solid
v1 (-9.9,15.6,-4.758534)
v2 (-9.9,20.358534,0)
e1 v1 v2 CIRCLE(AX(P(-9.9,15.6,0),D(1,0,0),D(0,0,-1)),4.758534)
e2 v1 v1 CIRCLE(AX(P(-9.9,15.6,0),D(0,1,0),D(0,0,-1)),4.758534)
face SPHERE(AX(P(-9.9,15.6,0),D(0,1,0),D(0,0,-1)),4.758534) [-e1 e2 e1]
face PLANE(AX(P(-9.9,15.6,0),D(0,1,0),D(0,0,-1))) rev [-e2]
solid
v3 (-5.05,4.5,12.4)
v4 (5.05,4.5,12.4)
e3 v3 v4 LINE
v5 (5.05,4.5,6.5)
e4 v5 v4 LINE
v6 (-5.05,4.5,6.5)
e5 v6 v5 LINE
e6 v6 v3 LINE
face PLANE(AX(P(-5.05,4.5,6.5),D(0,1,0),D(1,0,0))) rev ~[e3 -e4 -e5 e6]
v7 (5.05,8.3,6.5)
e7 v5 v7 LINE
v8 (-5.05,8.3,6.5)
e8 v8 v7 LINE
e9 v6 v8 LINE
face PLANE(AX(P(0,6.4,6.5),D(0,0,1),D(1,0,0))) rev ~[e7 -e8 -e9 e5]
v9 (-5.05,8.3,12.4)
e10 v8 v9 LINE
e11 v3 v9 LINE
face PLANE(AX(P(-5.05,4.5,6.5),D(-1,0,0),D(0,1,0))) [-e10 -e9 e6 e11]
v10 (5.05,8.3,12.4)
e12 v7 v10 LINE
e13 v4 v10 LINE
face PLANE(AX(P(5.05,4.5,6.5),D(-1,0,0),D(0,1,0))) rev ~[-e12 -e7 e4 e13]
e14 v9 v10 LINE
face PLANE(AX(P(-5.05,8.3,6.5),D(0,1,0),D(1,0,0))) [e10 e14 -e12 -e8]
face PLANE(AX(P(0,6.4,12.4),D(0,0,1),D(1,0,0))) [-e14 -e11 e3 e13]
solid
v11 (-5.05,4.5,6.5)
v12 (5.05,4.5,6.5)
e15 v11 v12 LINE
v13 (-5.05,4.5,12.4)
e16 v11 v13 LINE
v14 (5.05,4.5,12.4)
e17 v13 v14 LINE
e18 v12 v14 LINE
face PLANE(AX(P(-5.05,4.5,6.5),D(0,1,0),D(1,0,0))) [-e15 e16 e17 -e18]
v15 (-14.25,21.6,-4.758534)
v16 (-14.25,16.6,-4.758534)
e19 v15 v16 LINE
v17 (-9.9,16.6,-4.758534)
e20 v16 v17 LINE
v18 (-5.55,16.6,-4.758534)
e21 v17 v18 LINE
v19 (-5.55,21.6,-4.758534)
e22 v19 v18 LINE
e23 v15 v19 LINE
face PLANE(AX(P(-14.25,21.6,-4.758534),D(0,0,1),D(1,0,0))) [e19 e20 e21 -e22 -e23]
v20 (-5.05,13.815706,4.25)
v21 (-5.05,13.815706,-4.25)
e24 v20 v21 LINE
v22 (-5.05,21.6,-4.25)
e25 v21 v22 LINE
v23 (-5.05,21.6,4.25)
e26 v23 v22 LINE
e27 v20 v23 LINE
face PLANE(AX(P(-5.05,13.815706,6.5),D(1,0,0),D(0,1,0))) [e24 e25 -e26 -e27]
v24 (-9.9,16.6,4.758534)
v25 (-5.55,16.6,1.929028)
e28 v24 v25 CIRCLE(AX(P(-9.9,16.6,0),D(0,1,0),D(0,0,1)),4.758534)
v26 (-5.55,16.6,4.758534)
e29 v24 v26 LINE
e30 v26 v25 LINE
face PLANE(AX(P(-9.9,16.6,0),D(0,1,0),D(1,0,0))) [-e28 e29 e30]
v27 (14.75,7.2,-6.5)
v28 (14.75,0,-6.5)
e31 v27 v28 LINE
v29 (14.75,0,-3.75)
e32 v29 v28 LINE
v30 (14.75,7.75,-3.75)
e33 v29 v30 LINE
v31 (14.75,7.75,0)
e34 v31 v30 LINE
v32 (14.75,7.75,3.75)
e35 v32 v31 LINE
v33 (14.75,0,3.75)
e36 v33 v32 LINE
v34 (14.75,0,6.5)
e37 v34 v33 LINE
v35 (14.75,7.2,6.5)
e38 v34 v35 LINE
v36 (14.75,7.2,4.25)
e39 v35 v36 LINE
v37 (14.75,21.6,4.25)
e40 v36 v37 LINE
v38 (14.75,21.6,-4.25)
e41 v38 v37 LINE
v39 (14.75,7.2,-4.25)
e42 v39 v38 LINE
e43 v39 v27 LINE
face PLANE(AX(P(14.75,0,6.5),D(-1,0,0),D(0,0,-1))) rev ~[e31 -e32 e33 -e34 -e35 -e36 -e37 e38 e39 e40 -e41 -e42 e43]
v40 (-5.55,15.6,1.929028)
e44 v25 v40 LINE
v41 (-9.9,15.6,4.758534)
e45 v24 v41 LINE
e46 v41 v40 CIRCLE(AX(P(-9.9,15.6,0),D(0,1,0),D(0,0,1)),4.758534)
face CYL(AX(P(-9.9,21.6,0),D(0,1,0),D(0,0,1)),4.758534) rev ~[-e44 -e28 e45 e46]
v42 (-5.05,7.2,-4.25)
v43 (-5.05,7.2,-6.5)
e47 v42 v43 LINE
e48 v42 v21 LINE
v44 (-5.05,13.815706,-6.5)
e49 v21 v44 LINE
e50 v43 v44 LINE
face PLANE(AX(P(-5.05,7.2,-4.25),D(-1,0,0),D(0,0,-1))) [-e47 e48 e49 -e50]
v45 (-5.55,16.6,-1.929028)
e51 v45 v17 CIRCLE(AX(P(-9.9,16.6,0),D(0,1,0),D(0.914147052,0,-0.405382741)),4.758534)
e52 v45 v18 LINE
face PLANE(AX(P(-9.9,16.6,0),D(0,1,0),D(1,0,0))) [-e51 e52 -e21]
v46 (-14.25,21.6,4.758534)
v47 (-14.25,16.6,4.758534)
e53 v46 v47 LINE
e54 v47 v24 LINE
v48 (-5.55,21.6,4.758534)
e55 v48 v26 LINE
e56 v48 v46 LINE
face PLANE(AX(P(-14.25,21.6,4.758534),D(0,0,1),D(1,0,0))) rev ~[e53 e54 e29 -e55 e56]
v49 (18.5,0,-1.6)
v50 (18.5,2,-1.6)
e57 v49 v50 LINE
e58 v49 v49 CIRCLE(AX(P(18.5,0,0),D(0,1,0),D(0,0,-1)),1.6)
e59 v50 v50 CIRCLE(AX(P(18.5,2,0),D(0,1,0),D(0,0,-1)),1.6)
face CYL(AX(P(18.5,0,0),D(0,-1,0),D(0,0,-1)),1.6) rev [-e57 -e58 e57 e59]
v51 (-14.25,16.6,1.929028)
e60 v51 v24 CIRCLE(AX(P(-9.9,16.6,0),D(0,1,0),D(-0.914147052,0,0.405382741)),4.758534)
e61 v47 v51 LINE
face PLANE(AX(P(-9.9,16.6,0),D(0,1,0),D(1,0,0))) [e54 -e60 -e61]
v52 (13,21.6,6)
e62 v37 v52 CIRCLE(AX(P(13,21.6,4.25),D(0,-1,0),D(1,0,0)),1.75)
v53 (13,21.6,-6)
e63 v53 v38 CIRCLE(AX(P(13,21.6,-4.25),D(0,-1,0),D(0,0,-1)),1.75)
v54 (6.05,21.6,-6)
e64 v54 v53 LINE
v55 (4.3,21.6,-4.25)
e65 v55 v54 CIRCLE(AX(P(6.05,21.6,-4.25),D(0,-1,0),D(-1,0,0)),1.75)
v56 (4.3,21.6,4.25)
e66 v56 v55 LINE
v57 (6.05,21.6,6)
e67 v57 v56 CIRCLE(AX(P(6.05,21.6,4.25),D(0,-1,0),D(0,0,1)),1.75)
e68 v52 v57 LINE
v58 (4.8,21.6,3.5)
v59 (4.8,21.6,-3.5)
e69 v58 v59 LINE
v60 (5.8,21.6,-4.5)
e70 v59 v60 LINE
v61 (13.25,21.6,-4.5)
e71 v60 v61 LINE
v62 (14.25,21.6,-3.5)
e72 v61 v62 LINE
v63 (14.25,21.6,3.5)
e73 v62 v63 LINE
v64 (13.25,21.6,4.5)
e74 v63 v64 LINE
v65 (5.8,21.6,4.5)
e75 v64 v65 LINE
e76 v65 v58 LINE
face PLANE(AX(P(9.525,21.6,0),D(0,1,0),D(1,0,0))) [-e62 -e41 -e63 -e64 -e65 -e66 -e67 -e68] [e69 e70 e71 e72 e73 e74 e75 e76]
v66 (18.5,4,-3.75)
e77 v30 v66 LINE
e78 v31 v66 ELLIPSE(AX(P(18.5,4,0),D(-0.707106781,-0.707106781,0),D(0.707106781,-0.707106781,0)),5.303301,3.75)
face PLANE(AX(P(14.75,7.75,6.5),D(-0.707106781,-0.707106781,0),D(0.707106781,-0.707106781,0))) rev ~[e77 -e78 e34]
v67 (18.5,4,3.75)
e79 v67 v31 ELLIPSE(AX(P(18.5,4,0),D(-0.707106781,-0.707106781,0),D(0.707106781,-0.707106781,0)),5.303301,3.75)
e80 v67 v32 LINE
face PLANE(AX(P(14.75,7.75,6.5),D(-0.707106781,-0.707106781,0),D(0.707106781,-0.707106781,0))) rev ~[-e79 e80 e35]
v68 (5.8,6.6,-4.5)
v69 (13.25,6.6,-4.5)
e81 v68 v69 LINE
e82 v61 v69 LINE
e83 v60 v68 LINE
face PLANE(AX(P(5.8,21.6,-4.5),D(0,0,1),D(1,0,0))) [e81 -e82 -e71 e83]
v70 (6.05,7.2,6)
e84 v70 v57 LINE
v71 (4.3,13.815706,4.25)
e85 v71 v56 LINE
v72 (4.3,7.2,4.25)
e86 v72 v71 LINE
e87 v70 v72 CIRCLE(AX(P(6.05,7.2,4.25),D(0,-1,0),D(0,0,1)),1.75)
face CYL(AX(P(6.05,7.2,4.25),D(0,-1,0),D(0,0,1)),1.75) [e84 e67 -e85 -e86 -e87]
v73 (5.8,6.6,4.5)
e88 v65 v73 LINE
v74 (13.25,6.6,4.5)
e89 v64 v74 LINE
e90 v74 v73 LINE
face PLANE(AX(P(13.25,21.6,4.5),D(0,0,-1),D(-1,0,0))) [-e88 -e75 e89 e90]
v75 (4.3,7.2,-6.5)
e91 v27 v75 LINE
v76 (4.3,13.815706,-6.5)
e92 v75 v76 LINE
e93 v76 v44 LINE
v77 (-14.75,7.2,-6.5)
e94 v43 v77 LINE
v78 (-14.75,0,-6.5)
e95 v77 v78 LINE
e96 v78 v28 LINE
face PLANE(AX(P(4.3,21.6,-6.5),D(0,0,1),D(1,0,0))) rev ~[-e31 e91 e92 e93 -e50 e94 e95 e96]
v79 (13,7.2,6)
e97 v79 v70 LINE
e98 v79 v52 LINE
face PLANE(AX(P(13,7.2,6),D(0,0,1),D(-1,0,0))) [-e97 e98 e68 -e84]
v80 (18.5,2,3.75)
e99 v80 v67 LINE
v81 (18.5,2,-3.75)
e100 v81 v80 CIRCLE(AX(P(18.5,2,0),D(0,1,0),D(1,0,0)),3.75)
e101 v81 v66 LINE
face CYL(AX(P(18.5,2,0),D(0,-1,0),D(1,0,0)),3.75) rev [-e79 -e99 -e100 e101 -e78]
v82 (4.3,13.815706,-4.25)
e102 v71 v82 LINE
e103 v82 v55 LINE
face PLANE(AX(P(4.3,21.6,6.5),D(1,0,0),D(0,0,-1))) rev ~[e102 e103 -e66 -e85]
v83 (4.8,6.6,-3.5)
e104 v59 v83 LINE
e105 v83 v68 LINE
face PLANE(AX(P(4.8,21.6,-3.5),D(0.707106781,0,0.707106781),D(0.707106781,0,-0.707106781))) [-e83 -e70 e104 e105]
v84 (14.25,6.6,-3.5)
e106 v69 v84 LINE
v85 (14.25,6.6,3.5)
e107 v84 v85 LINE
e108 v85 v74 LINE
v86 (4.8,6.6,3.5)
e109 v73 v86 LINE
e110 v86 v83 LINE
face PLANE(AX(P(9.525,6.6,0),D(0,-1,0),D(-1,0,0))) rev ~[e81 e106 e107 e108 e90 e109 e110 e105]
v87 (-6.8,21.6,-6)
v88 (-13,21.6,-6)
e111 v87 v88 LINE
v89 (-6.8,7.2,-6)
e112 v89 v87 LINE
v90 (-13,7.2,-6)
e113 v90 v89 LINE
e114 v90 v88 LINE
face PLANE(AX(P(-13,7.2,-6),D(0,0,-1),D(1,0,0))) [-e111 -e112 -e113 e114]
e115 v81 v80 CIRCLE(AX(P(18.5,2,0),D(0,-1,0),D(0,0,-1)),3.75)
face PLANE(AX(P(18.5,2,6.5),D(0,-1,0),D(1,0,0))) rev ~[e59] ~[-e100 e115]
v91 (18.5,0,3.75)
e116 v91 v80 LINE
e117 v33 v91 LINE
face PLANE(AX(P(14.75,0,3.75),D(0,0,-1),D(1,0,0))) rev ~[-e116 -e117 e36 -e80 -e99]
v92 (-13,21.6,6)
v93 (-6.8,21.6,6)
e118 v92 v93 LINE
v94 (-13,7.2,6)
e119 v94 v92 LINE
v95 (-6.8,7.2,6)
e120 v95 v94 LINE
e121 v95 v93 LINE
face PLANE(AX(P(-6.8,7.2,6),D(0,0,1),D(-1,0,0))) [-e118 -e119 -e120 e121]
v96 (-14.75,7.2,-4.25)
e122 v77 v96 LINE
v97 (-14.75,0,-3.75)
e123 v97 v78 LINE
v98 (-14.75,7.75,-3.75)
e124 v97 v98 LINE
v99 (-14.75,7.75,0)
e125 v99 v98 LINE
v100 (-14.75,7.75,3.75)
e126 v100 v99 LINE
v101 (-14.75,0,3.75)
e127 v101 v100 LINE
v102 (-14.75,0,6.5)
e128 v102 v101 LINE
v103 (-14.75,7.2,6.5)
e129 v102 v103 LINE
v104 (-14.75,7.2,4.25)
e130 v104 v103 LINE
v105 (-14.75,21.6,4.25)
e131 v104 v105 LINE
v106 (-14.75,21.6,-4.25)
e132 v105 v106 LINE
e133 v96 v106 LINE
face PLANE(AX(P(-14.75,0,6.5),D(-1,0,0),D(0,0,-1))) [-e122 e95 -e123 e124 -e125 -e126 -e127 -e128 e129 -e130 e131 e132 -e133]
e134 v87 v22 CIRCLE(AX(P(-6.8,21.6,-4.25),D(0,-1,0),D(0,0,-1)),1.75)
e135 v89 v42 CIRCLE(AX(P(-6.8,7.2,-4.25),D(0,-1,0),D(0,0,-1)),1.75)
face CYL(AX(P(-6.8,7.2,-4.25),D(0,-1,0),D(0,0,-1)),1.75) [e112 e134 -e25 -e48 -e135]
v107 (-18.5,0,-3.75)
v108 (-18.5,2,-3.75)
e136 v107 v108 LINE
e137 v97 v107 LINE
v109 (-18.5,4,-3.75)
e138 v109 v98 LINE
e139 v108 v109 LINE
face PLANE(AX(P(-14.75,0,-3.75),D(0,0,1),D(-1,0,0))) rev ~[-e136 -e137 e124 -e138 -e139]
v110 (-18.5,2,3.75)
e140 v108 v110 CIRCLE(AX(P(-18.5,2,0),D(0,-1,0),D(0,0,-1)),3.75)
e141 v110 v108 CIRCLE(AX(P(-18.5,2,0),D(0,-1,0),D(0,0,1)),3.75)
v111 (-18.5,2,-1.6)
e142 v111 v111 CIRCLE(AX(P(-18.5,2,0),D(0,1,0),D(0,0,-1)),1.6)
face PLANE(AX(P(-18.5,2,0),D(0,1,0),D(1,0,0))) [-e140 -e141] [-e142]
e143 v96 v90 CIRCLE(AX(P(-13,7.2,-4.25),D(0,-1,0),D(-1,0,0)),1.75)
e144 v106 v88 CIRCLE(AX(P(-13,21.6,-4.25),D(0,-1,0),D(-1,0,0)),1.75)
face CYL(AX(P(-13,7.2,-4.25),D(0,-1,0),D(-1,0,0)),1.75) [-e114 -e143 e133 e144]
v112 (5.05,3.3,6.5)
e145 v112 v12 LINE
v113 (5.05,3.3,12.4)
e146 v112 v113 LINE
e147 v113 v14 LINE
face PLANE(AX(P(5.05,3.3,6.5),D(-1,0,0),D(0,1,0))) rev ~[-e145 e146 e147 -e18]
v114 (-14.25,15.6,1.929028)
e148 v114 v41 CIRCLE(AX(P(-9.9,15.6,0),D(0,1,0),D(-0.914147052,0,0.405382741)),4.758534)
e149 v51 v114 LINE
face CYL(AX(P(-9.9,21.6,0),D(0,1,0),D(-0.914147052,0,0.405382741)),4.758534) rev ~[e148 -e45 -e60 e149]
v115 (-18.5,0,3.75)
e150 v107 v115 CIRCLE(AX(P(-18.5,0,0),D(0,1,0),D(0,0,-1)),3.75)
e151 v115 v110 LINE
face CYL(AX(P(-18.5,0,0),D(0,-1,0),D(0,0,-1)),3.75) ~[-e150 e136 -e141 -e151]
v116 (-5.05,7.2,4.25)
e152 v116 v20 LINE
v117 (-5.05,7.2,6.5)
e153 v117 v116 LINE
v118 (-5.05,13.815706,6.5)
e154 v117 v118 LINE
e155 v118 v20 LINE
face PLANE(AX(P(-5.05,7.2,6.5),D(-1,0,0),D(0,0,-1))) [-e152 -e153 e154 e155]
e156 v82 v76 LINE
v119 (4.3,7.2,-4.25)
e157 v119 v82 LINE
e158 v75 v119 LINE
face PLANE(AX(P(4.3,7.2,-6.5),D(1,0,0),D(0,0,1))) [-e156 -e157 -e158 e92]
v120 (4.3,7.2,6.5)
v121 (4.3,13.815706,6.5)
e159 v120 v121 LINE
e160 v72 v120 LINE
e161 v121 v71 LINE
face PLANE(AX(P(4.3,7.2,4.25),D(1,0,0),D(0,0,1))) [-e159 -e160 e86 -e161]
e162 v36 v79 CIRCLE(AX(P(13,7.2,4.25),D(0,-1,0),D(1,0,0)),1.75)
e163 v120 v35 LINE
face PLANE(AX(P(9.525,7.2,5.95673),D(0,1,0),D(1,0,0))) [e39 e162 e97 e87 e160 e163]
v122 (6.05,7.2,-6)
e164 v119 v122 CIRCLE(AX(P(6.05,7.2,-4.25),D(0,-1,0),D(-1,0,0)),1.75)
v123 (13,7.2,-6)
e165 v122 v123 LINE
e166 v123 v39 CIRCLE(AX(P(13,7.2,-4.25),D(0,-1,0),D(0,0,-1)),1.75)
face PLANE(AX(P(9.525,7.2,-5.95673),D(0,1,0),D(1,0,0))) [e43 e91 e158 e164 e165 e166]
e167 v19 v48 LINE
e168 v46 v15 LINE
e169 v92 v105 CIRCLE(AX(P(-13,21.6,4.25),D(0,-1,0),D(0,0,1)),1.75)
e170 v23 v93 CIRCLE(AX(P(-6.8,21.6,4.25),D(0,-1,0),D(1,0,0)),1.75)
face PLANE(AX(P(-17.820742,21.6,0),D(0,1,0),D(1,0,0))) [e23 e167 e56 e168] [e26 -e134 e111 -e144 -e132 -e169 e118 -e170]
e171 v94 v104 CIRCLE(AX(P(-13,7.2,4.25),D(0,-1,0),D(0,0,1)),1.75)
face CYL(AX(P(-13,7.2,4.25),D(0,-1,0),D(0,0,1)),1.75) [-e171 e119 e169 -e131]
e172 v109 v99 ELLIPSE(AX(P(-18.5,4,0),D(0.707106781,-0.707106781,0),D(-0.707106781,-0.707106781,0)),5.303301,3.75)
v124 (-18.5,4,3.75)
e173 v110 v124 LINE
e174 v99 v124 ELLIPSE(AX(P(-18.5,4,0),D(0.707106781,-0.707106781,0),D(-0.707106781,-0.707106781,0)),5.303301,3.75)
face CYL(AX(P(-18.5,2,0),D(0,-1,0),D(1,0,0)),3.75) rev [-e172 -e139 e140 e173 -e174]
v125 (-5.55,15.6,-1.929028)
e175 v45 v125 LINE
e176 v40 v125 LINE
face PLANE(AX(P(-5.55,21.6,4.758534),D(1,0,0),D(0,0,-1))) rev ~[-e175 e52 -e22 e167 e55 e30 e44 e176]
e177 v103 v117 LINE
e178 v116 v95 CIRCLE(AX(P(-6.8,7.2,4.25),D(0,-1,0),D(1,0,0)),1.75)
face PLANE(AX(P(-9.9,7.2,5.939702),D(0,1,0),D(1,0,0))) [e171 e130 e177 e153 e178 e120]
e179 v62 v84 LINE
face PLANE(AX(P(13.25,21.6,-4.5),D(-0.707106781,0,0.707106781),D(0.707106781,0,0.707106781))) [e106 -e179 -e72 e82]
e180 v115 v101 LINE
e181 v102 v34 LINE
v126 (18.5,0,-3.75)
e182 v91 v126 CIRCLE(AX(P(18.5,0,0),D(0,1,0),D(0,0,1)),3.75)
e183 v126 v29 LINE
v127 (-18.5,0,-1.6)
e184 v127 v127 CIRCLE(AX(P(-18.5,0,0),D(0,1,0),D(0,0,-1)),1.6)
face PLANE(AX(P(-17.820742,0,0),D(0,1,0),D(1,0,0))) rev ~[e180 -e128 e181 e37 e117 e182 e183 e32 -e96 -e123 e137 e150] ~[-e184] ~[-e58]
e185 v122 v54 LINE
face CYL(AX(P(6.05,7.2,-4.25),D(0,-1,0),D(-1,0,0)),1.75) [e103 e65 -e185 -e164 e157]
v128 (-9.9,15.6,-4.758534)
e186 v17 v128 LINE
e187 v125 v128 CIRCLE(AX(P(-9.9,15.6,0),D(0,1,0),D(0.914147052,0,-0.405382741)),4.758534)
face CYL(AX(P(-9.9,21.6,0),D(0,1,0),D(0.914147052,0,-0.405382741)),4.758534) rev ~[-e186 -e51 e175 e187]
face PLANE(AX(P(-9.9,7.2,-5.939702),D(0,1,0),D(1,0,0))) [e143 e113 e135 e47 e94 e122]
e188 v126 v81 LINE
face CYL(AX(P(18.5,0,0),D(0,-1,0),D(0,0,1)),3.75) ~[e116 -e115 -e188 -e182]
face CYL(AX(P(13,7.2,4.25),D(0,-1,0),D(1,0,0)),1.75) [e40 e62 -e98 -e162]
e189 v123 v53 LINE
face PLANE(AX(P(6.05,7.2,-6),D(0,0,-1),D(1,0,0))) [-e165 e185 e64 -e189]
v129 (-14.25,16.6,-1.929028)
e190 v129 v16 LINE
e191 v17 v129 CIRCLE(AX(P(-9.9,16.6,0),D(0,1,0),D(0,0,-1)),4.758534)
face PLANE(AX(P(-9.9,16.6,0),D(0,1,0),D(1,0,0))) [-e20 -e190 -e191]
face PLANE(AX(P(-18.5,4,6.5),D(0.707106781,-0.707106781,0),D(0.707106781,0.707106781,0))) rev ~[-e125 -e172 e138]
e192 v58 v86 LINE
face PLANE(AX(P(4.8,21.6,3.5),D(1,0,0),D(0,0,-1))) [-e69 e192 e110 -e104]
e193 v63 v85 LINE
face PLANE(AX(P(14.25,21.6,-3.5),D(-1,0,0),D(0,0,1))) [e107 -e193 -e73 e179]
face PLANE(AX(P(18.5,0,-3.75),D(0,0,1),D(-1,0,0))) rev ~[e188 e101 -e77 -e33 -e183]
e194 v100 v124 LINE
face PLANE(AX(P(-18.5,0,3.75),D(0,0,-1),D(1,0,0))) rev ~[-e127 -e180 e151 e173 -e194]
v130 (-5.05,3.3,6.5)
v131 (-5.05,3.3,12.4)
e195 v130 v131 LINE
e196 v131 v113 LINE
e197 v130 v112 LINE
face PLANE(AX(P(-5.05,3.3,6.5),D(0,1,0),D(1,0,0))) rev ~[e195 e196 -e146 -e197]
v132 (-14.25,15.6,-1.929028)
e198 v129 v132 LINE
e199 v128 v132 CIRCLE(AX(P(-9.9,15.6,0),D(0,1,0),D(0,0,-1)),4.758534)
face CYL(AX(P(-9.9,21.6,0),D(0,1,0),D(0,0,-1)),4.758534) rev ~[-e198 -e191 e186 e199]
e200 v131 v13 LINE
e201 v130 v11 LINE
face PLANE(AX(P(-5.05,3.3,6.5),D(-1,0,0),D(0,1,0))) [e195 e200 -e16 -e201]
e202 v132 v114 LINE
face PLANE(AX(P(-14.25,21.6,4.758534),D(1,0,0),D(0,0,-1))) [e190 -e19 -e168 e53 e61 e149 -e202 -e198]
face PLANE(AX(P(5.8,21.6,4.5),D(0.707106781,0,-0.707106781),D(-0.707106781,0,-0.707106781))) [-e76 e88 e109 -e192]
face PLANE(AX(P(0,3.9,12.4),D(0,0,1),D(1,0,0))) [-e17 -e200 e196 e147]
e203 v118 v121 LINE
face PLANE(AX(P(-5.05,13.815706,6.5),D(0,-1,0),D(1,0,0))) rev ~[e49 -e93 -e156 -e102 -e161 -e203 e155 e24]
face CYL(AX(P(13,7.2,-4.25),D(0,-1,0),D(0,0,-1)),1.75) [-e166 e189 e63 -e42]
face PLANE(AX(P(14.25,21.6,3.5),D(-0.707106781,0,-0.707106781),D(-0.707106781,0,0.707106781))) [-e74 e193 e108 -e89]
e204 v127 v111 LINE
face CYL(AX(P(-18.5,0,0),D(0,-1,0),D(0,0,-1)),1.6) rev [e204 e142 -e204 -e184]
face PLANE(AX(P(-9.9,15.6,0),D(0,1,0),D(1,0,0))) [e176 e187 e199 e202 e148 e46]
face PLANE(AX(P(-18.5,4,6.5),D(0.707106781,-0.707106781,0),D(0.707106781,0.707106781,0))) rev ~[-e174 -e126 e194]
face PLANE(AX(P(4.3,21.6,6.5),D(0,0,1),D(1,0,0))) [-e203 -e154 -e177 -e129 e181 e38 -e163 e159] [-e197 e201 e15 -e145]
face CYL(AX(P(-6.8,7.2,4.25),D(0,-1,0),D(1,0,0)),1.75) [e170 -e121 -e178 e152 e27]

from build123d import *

# Parameters (mm, degrees)
SKETCH_1_W          = 29.5
SKETCH_1_H          = 2.75
SKETCH_1_R          = 1.6
SKETCH_1_H_2        = 7.5
EXTRUDE_1_DEPTH     = 21.6
SKETCH_2_W          = 10.1
SKETCH_2_H          = 7.784294183
CUT_EXTRUDE_1_DEPTH = 21.6
SKETCH_13_R         = 3.75
CUT_EXTRUDE_7_DEPTH = 31.355765515
CUT_EXTRUDE_2_DEPTH = 28.288688133
SKETCH_6_W          = 10.45
SKETCH_6_H          = 13
EXTRUDE_2_DEPTH     = 7.784294183
CUT_EXTRUDE_START   = -14.4
CUT_EXTRUDE_3_DEPTH = 14.4
CUT_EXTRUDE_4_DEPTH = 6
SKETCH_8_W          = 8.7
SKETCH_8_H          = 9.517068374
CUT_EXTRUDE_5_DEPTH = 5
CUT_EXTRUDE_6_DEPTH = 15
SKETCH_11_W         = 10.1
SKETCH_11_H         = 1.2
EXTRUDE_3_DEPTH     = 5.9
SKETCH_12_W         = 10.1
SKETCH_12_H         = 3.8
EXTRUDE_4_DEPTH     = 5.9


with BuildPart() as part:
    # 草图1 → 凸台-拉伸1 (new body)
    # profile 1 of 5: a face of its own
    with BuildSketch(Plane(origin=(0, 0, 0), x_dir=(1, 0, 0), z_dir=(0, 1, 0))):
        with Locations((0, -5.125)):
            Rectangle(SKETCH_1_W, SKETCH_1_H)
    # profile 2 of 5: a face of its own
    with BuildSketch(Plane(origin=(0, 0, 0), x_dir=(1, 0, 0), z_dir=(0, 1, 0))):
        with BuildLine():
            Line((18.5, 3.75), (14.75, 3.75))
            Line((14.75, 3.75), (14.75, -3.75))
            Line((14.75, -3.75), (18.5, -3.75))
            ThreePointArc((18.5, -3.75), (22.25, 0), (18.5, 3.75))
        make_face()
        with Locations(Location((18.5, 0, 0), (0, 0, 90))):
            Circle(SKETCH_1_R, mode=Mode.SUBTRACT)
    # profile 3 of 5: a face of its own
    with BuildSketch(Plane(origin=(0, 0, 0), x_dir=(1, 0, 0), z_dir=(0, 1, 0))):
        Rectangle(SKETCH_1_W, SKETCH_1_H_2)
    # profile 4 of 5: a face of its own
    with BuildSketch(Plane(origin=(0, 0, 0), x_dir=(1, 0, 0), z_dir=(0, 1, 0))):
        with Locations((0, 5.125)):
            Rectangle(SKETCH_1_W, SKETCH_1_H)
    # profile 5 of 5: a face of its own
    with BuildSketch(Plane(origin=(0, 0, 0), x_dir=(1, 0, 0), z_dir=(0, 1, 0))):
        with BuildLine():
            Line((-14.75, -3.75), (-14.75, 3.75))
            Line((-14.75, 3.75), (-18.5, 3.75))
            ThreePointArc((-18.5, 3.75), (-22.25, 0), (-18.5, -3.75))
            Line((-18.5, -3.75), (-14.75, -3.75))
        make_face()
        with Locations(Location((-18.5, 0, 0), (0, 0, 90))):
            Circle(SKETCH_1_R, mode=Mode.SUBTRACT)
    extrude(amount=EXTRUDE_1_DEPTH)

    # 草图2 → 切除-拉伸1 (cut)
    with BuildSketch(Plane.XY.offset(6.5)):
        Polygon((-22.25, 2), (-18.5, 2), (-18.5, 4), (-14.75, 7.75), (-14.75, 21.6), (-22.25, 21.6), align=None)
        Polygon((18.5, 4), (18.5, 2), (22.25, 2), (22.25, 21.6), (14.75, 21.6), (14.75, 7.75), align=None)
        with Locations((0, 17.707852909)):
            Rectangle(SKETCH_2_W, SKETCH_2_H)
    extrude(amount=-CUT_EXTRUDE_1_DEPTH, mode=Mode.SUBTRACT)

    # 草图13 → 切除-拉伸7 (cut, through all)
    with BuildSketch(Plane(origin=(0, 2, 0), x_dir=(1, 0, 0), z_dir=(0, 1, 0))):
        with Locations((-18.5, 0)):
            Circle(SKETCH_13_R)
        with Locations((18.5, 0)):
            Circle(SKETCH_13_R)
    extrude(amount=CUT_EXTRUDE_7_DEPTH, mode=Mode.SUBTRACT)

    # 草图4 → 切除-拉伸2 (cut, through all)
    with BuildSketch(Plane(origin=(0, 7.2, 0), x_dir=(1, 0, 0), z_dir=(0, 1, 0))):
        with BuildLine():
            ThreePointArc((-13, -6), (-14.237436867, -5.487436867), (-14.75, -4.25))
            Line((-14.75, -4.25), (-14.75, -6.5))
            Line((-14.75, -6.5), (-5.05, -6.5))
            Line((-5.05, -6.5), (-5.05, -4.25))
            ThreePointArc((-5.05, -4.25), (-5.562563133, -5.487436867), (-6.8, -6))
            Line((-6.8, -6), (-13, -6))
        make_face()
        with BuildLine():
            Line((-5.05, 6.5), (-14.75, 6.5))
            Line((-14.75, 6.5), (-14.75, 4.25))
            ThreePointArc((-14.75, 4.25), (-14.237436867, 5.487436867), (-13, 6))
            Line((-13, 6), (-6.8, 6))
            ThreePointArc((-6.8, 6), (-5.562563133, 5.487436867), (-5.05, 4.25))
            Line((-5.05, 4.25), (-5.05, 6.5))
        make_face()
    extrude(amount=CUT_EXTRUDE_2_DEPTH, mode=Mode.SUBTRACT)

    # 草图6 → 凸台-拉伸2 (add)
    with BuildSketch(Plane(origin=(0, 21.6, 0), x_dir=(1, 0, 0), z_dir=(0, 1, 0))):
        with Locations((9.525, 0)):
            Rectangle(SKETCH_6_W, SKETCH_6_H)
    extrude(amount=-EXTRUDE_2_DEPTH)

    # 草图5 → 切除-拉伸3 (cut)
    with BuildSketch(Plane(origin=(0, 21.6, 0), x_dir=(1, 0, 0), z_dir=(0, 1, 0)).offset(CUT_EXTRUDE_START)):
        with BuildLine():
            Line((14.75, -6.5), (14.75, -4.25))
            ThreePointArc((14.75, -4.25), (14.237436867, -5.487436867), (13, -6))
            Line((13, -6), (6.05, -6))
            ThreePointArc((6.05, -6), (4.812563133, -5.487436867), (4.3, -4.25))
            Line((4.3, -4.25), (4.3, -6.5))
            Line((4.3, -6.5), (14.75, -6.5))
        make_face()
        with BuildLine():
            Line((14.75, 4.25), (14.75, 6.5))
            Line((14.75, 6.5), (4.3, 6.5))
            Line((4.3, 6.5), (4.3, 4.25))
            ThreePointArc((4.3, 4.25), (4.812563133, 5.487436867), (6.05, 6))
            Line((6.05, 6), (13, 6))
            ThreePointArc((13, 6), (14.237436867, 5.487436867), (14.75, 4.25))
        make_face()
    extrude(amount=CUT_EXTRUDE_3_DEPTH, mode=Mode.SUBTRACT)

    # 草图7 → 切除-拉伸4 (cut)
    with BuildSketch(Plane(origin=(0, 21.6, 0), x_dir=(1, 0, 0), z_dir=(0, 1, 0))):
        with BuildLine():
            ThreePointArc((-5.55, 1.929027633), (-7.305360943, 3.98892163), (-9.9, 4.758534187))
            ThreePointArc((-9.9, 4.758534187), (-12.494639057, 3.98892163), (-14.25, 1.929027633))
            Line((-14.25, 1.929027633), (-14.25, -1.929027633))
            ThreePointArc((-14.25, -1.929027633), (-12.494639057, -3.98892163), (-9.9, -4.758534187))
            ThreePointArc((-9.9, -4.758534187), (-7.305360943, -3.98892163), (-5.55, -1.929027633))
            Line((-5.55, -1.929027633), (-5.55, 1.929027633))
        make_face()
    extrude(amount=-CUT_EXTRUDE_4_DEPTH, mode=Mode.SUBTRACT)

    # 草图8 → 切除-拉伸5 (cut)
    with BuildSketch(Plane(origin=(0, 21.6, 0), x_dir=(1, 0, 0), z_dir=(0, 1, 0))):
        with Locations((-9.9, 0)):
            Rectangle(SKETCH_8_W, SKETCH_8_H)
    extrude(amount=-CUT_EXTRUDE_5_DEPTH, mode=Mode.SUBTRACT)

    # 草图10 → 切除-拉伸6 (cut)
    with BuildSketch(Plane(origin=(0, 21.6, 0), x_dir=(1, 0, 0), z_dir=(0, 1, 0))):
        Polygon((5.8, 4.5), (13.25, 4.5), (14.25, 3.5), (14.25, -3.5), (13.25, -4.5), (5.8, -4.5), (4.8, -3.5), (4.8, 3.5), align=None)
    extrude(amount=-CUT_EXTRUDE_6_DEPTH, mode=Mode.SUBTRACT)

    # 草图11 → 凸台-拉伸3 (add)
    with BuildSketch(Plane.XY.offset(6.5)):
        with Locations((0, 3.9)):
            Rectangle(SKETCH_11_W, SKETCH_11_H)
    extrude(amount=EXTRUDE_3_DEPTH)


with BuildPart() as body_2:
    # 草图9 → 旋转1 (revolve)
    with BuildSketch(Plane.YZ.offset(-9.9), mode=Mode.PRIVATE) as revolve_1_sk:
        with BuildLine():
            Line((15.6, 0), (15.6, 4.758534187))
            ThreePointArc((15.6, 4.758534187), (18.964791792, 3.364791792), (20.358534187, 0))
            Line((20.358534187, 0), (15.6, 0))
        make_face()
    revolve(revolve_1_sk.sketch.rotate(Axis((-9.9, 15.6, 0), (0, 1, 0)), 180), axis=Axis((-9.9, 15.6, 0), (0, 1, 0)))


with BuildPart() as body_3:
    # 草图12 → 凸台-拉伸4 (new body)
    with BuildSketch(Plane.XY.offset(6.5)):
        with Locations((0, 6.4)):
            Rectangle(SKETCH_12_W, SKETCH_12_H)
    extrude(amount=EXTRUDE_4_DEPTH)


solid = Compound([part.part, body_2.part, body_3.part])
